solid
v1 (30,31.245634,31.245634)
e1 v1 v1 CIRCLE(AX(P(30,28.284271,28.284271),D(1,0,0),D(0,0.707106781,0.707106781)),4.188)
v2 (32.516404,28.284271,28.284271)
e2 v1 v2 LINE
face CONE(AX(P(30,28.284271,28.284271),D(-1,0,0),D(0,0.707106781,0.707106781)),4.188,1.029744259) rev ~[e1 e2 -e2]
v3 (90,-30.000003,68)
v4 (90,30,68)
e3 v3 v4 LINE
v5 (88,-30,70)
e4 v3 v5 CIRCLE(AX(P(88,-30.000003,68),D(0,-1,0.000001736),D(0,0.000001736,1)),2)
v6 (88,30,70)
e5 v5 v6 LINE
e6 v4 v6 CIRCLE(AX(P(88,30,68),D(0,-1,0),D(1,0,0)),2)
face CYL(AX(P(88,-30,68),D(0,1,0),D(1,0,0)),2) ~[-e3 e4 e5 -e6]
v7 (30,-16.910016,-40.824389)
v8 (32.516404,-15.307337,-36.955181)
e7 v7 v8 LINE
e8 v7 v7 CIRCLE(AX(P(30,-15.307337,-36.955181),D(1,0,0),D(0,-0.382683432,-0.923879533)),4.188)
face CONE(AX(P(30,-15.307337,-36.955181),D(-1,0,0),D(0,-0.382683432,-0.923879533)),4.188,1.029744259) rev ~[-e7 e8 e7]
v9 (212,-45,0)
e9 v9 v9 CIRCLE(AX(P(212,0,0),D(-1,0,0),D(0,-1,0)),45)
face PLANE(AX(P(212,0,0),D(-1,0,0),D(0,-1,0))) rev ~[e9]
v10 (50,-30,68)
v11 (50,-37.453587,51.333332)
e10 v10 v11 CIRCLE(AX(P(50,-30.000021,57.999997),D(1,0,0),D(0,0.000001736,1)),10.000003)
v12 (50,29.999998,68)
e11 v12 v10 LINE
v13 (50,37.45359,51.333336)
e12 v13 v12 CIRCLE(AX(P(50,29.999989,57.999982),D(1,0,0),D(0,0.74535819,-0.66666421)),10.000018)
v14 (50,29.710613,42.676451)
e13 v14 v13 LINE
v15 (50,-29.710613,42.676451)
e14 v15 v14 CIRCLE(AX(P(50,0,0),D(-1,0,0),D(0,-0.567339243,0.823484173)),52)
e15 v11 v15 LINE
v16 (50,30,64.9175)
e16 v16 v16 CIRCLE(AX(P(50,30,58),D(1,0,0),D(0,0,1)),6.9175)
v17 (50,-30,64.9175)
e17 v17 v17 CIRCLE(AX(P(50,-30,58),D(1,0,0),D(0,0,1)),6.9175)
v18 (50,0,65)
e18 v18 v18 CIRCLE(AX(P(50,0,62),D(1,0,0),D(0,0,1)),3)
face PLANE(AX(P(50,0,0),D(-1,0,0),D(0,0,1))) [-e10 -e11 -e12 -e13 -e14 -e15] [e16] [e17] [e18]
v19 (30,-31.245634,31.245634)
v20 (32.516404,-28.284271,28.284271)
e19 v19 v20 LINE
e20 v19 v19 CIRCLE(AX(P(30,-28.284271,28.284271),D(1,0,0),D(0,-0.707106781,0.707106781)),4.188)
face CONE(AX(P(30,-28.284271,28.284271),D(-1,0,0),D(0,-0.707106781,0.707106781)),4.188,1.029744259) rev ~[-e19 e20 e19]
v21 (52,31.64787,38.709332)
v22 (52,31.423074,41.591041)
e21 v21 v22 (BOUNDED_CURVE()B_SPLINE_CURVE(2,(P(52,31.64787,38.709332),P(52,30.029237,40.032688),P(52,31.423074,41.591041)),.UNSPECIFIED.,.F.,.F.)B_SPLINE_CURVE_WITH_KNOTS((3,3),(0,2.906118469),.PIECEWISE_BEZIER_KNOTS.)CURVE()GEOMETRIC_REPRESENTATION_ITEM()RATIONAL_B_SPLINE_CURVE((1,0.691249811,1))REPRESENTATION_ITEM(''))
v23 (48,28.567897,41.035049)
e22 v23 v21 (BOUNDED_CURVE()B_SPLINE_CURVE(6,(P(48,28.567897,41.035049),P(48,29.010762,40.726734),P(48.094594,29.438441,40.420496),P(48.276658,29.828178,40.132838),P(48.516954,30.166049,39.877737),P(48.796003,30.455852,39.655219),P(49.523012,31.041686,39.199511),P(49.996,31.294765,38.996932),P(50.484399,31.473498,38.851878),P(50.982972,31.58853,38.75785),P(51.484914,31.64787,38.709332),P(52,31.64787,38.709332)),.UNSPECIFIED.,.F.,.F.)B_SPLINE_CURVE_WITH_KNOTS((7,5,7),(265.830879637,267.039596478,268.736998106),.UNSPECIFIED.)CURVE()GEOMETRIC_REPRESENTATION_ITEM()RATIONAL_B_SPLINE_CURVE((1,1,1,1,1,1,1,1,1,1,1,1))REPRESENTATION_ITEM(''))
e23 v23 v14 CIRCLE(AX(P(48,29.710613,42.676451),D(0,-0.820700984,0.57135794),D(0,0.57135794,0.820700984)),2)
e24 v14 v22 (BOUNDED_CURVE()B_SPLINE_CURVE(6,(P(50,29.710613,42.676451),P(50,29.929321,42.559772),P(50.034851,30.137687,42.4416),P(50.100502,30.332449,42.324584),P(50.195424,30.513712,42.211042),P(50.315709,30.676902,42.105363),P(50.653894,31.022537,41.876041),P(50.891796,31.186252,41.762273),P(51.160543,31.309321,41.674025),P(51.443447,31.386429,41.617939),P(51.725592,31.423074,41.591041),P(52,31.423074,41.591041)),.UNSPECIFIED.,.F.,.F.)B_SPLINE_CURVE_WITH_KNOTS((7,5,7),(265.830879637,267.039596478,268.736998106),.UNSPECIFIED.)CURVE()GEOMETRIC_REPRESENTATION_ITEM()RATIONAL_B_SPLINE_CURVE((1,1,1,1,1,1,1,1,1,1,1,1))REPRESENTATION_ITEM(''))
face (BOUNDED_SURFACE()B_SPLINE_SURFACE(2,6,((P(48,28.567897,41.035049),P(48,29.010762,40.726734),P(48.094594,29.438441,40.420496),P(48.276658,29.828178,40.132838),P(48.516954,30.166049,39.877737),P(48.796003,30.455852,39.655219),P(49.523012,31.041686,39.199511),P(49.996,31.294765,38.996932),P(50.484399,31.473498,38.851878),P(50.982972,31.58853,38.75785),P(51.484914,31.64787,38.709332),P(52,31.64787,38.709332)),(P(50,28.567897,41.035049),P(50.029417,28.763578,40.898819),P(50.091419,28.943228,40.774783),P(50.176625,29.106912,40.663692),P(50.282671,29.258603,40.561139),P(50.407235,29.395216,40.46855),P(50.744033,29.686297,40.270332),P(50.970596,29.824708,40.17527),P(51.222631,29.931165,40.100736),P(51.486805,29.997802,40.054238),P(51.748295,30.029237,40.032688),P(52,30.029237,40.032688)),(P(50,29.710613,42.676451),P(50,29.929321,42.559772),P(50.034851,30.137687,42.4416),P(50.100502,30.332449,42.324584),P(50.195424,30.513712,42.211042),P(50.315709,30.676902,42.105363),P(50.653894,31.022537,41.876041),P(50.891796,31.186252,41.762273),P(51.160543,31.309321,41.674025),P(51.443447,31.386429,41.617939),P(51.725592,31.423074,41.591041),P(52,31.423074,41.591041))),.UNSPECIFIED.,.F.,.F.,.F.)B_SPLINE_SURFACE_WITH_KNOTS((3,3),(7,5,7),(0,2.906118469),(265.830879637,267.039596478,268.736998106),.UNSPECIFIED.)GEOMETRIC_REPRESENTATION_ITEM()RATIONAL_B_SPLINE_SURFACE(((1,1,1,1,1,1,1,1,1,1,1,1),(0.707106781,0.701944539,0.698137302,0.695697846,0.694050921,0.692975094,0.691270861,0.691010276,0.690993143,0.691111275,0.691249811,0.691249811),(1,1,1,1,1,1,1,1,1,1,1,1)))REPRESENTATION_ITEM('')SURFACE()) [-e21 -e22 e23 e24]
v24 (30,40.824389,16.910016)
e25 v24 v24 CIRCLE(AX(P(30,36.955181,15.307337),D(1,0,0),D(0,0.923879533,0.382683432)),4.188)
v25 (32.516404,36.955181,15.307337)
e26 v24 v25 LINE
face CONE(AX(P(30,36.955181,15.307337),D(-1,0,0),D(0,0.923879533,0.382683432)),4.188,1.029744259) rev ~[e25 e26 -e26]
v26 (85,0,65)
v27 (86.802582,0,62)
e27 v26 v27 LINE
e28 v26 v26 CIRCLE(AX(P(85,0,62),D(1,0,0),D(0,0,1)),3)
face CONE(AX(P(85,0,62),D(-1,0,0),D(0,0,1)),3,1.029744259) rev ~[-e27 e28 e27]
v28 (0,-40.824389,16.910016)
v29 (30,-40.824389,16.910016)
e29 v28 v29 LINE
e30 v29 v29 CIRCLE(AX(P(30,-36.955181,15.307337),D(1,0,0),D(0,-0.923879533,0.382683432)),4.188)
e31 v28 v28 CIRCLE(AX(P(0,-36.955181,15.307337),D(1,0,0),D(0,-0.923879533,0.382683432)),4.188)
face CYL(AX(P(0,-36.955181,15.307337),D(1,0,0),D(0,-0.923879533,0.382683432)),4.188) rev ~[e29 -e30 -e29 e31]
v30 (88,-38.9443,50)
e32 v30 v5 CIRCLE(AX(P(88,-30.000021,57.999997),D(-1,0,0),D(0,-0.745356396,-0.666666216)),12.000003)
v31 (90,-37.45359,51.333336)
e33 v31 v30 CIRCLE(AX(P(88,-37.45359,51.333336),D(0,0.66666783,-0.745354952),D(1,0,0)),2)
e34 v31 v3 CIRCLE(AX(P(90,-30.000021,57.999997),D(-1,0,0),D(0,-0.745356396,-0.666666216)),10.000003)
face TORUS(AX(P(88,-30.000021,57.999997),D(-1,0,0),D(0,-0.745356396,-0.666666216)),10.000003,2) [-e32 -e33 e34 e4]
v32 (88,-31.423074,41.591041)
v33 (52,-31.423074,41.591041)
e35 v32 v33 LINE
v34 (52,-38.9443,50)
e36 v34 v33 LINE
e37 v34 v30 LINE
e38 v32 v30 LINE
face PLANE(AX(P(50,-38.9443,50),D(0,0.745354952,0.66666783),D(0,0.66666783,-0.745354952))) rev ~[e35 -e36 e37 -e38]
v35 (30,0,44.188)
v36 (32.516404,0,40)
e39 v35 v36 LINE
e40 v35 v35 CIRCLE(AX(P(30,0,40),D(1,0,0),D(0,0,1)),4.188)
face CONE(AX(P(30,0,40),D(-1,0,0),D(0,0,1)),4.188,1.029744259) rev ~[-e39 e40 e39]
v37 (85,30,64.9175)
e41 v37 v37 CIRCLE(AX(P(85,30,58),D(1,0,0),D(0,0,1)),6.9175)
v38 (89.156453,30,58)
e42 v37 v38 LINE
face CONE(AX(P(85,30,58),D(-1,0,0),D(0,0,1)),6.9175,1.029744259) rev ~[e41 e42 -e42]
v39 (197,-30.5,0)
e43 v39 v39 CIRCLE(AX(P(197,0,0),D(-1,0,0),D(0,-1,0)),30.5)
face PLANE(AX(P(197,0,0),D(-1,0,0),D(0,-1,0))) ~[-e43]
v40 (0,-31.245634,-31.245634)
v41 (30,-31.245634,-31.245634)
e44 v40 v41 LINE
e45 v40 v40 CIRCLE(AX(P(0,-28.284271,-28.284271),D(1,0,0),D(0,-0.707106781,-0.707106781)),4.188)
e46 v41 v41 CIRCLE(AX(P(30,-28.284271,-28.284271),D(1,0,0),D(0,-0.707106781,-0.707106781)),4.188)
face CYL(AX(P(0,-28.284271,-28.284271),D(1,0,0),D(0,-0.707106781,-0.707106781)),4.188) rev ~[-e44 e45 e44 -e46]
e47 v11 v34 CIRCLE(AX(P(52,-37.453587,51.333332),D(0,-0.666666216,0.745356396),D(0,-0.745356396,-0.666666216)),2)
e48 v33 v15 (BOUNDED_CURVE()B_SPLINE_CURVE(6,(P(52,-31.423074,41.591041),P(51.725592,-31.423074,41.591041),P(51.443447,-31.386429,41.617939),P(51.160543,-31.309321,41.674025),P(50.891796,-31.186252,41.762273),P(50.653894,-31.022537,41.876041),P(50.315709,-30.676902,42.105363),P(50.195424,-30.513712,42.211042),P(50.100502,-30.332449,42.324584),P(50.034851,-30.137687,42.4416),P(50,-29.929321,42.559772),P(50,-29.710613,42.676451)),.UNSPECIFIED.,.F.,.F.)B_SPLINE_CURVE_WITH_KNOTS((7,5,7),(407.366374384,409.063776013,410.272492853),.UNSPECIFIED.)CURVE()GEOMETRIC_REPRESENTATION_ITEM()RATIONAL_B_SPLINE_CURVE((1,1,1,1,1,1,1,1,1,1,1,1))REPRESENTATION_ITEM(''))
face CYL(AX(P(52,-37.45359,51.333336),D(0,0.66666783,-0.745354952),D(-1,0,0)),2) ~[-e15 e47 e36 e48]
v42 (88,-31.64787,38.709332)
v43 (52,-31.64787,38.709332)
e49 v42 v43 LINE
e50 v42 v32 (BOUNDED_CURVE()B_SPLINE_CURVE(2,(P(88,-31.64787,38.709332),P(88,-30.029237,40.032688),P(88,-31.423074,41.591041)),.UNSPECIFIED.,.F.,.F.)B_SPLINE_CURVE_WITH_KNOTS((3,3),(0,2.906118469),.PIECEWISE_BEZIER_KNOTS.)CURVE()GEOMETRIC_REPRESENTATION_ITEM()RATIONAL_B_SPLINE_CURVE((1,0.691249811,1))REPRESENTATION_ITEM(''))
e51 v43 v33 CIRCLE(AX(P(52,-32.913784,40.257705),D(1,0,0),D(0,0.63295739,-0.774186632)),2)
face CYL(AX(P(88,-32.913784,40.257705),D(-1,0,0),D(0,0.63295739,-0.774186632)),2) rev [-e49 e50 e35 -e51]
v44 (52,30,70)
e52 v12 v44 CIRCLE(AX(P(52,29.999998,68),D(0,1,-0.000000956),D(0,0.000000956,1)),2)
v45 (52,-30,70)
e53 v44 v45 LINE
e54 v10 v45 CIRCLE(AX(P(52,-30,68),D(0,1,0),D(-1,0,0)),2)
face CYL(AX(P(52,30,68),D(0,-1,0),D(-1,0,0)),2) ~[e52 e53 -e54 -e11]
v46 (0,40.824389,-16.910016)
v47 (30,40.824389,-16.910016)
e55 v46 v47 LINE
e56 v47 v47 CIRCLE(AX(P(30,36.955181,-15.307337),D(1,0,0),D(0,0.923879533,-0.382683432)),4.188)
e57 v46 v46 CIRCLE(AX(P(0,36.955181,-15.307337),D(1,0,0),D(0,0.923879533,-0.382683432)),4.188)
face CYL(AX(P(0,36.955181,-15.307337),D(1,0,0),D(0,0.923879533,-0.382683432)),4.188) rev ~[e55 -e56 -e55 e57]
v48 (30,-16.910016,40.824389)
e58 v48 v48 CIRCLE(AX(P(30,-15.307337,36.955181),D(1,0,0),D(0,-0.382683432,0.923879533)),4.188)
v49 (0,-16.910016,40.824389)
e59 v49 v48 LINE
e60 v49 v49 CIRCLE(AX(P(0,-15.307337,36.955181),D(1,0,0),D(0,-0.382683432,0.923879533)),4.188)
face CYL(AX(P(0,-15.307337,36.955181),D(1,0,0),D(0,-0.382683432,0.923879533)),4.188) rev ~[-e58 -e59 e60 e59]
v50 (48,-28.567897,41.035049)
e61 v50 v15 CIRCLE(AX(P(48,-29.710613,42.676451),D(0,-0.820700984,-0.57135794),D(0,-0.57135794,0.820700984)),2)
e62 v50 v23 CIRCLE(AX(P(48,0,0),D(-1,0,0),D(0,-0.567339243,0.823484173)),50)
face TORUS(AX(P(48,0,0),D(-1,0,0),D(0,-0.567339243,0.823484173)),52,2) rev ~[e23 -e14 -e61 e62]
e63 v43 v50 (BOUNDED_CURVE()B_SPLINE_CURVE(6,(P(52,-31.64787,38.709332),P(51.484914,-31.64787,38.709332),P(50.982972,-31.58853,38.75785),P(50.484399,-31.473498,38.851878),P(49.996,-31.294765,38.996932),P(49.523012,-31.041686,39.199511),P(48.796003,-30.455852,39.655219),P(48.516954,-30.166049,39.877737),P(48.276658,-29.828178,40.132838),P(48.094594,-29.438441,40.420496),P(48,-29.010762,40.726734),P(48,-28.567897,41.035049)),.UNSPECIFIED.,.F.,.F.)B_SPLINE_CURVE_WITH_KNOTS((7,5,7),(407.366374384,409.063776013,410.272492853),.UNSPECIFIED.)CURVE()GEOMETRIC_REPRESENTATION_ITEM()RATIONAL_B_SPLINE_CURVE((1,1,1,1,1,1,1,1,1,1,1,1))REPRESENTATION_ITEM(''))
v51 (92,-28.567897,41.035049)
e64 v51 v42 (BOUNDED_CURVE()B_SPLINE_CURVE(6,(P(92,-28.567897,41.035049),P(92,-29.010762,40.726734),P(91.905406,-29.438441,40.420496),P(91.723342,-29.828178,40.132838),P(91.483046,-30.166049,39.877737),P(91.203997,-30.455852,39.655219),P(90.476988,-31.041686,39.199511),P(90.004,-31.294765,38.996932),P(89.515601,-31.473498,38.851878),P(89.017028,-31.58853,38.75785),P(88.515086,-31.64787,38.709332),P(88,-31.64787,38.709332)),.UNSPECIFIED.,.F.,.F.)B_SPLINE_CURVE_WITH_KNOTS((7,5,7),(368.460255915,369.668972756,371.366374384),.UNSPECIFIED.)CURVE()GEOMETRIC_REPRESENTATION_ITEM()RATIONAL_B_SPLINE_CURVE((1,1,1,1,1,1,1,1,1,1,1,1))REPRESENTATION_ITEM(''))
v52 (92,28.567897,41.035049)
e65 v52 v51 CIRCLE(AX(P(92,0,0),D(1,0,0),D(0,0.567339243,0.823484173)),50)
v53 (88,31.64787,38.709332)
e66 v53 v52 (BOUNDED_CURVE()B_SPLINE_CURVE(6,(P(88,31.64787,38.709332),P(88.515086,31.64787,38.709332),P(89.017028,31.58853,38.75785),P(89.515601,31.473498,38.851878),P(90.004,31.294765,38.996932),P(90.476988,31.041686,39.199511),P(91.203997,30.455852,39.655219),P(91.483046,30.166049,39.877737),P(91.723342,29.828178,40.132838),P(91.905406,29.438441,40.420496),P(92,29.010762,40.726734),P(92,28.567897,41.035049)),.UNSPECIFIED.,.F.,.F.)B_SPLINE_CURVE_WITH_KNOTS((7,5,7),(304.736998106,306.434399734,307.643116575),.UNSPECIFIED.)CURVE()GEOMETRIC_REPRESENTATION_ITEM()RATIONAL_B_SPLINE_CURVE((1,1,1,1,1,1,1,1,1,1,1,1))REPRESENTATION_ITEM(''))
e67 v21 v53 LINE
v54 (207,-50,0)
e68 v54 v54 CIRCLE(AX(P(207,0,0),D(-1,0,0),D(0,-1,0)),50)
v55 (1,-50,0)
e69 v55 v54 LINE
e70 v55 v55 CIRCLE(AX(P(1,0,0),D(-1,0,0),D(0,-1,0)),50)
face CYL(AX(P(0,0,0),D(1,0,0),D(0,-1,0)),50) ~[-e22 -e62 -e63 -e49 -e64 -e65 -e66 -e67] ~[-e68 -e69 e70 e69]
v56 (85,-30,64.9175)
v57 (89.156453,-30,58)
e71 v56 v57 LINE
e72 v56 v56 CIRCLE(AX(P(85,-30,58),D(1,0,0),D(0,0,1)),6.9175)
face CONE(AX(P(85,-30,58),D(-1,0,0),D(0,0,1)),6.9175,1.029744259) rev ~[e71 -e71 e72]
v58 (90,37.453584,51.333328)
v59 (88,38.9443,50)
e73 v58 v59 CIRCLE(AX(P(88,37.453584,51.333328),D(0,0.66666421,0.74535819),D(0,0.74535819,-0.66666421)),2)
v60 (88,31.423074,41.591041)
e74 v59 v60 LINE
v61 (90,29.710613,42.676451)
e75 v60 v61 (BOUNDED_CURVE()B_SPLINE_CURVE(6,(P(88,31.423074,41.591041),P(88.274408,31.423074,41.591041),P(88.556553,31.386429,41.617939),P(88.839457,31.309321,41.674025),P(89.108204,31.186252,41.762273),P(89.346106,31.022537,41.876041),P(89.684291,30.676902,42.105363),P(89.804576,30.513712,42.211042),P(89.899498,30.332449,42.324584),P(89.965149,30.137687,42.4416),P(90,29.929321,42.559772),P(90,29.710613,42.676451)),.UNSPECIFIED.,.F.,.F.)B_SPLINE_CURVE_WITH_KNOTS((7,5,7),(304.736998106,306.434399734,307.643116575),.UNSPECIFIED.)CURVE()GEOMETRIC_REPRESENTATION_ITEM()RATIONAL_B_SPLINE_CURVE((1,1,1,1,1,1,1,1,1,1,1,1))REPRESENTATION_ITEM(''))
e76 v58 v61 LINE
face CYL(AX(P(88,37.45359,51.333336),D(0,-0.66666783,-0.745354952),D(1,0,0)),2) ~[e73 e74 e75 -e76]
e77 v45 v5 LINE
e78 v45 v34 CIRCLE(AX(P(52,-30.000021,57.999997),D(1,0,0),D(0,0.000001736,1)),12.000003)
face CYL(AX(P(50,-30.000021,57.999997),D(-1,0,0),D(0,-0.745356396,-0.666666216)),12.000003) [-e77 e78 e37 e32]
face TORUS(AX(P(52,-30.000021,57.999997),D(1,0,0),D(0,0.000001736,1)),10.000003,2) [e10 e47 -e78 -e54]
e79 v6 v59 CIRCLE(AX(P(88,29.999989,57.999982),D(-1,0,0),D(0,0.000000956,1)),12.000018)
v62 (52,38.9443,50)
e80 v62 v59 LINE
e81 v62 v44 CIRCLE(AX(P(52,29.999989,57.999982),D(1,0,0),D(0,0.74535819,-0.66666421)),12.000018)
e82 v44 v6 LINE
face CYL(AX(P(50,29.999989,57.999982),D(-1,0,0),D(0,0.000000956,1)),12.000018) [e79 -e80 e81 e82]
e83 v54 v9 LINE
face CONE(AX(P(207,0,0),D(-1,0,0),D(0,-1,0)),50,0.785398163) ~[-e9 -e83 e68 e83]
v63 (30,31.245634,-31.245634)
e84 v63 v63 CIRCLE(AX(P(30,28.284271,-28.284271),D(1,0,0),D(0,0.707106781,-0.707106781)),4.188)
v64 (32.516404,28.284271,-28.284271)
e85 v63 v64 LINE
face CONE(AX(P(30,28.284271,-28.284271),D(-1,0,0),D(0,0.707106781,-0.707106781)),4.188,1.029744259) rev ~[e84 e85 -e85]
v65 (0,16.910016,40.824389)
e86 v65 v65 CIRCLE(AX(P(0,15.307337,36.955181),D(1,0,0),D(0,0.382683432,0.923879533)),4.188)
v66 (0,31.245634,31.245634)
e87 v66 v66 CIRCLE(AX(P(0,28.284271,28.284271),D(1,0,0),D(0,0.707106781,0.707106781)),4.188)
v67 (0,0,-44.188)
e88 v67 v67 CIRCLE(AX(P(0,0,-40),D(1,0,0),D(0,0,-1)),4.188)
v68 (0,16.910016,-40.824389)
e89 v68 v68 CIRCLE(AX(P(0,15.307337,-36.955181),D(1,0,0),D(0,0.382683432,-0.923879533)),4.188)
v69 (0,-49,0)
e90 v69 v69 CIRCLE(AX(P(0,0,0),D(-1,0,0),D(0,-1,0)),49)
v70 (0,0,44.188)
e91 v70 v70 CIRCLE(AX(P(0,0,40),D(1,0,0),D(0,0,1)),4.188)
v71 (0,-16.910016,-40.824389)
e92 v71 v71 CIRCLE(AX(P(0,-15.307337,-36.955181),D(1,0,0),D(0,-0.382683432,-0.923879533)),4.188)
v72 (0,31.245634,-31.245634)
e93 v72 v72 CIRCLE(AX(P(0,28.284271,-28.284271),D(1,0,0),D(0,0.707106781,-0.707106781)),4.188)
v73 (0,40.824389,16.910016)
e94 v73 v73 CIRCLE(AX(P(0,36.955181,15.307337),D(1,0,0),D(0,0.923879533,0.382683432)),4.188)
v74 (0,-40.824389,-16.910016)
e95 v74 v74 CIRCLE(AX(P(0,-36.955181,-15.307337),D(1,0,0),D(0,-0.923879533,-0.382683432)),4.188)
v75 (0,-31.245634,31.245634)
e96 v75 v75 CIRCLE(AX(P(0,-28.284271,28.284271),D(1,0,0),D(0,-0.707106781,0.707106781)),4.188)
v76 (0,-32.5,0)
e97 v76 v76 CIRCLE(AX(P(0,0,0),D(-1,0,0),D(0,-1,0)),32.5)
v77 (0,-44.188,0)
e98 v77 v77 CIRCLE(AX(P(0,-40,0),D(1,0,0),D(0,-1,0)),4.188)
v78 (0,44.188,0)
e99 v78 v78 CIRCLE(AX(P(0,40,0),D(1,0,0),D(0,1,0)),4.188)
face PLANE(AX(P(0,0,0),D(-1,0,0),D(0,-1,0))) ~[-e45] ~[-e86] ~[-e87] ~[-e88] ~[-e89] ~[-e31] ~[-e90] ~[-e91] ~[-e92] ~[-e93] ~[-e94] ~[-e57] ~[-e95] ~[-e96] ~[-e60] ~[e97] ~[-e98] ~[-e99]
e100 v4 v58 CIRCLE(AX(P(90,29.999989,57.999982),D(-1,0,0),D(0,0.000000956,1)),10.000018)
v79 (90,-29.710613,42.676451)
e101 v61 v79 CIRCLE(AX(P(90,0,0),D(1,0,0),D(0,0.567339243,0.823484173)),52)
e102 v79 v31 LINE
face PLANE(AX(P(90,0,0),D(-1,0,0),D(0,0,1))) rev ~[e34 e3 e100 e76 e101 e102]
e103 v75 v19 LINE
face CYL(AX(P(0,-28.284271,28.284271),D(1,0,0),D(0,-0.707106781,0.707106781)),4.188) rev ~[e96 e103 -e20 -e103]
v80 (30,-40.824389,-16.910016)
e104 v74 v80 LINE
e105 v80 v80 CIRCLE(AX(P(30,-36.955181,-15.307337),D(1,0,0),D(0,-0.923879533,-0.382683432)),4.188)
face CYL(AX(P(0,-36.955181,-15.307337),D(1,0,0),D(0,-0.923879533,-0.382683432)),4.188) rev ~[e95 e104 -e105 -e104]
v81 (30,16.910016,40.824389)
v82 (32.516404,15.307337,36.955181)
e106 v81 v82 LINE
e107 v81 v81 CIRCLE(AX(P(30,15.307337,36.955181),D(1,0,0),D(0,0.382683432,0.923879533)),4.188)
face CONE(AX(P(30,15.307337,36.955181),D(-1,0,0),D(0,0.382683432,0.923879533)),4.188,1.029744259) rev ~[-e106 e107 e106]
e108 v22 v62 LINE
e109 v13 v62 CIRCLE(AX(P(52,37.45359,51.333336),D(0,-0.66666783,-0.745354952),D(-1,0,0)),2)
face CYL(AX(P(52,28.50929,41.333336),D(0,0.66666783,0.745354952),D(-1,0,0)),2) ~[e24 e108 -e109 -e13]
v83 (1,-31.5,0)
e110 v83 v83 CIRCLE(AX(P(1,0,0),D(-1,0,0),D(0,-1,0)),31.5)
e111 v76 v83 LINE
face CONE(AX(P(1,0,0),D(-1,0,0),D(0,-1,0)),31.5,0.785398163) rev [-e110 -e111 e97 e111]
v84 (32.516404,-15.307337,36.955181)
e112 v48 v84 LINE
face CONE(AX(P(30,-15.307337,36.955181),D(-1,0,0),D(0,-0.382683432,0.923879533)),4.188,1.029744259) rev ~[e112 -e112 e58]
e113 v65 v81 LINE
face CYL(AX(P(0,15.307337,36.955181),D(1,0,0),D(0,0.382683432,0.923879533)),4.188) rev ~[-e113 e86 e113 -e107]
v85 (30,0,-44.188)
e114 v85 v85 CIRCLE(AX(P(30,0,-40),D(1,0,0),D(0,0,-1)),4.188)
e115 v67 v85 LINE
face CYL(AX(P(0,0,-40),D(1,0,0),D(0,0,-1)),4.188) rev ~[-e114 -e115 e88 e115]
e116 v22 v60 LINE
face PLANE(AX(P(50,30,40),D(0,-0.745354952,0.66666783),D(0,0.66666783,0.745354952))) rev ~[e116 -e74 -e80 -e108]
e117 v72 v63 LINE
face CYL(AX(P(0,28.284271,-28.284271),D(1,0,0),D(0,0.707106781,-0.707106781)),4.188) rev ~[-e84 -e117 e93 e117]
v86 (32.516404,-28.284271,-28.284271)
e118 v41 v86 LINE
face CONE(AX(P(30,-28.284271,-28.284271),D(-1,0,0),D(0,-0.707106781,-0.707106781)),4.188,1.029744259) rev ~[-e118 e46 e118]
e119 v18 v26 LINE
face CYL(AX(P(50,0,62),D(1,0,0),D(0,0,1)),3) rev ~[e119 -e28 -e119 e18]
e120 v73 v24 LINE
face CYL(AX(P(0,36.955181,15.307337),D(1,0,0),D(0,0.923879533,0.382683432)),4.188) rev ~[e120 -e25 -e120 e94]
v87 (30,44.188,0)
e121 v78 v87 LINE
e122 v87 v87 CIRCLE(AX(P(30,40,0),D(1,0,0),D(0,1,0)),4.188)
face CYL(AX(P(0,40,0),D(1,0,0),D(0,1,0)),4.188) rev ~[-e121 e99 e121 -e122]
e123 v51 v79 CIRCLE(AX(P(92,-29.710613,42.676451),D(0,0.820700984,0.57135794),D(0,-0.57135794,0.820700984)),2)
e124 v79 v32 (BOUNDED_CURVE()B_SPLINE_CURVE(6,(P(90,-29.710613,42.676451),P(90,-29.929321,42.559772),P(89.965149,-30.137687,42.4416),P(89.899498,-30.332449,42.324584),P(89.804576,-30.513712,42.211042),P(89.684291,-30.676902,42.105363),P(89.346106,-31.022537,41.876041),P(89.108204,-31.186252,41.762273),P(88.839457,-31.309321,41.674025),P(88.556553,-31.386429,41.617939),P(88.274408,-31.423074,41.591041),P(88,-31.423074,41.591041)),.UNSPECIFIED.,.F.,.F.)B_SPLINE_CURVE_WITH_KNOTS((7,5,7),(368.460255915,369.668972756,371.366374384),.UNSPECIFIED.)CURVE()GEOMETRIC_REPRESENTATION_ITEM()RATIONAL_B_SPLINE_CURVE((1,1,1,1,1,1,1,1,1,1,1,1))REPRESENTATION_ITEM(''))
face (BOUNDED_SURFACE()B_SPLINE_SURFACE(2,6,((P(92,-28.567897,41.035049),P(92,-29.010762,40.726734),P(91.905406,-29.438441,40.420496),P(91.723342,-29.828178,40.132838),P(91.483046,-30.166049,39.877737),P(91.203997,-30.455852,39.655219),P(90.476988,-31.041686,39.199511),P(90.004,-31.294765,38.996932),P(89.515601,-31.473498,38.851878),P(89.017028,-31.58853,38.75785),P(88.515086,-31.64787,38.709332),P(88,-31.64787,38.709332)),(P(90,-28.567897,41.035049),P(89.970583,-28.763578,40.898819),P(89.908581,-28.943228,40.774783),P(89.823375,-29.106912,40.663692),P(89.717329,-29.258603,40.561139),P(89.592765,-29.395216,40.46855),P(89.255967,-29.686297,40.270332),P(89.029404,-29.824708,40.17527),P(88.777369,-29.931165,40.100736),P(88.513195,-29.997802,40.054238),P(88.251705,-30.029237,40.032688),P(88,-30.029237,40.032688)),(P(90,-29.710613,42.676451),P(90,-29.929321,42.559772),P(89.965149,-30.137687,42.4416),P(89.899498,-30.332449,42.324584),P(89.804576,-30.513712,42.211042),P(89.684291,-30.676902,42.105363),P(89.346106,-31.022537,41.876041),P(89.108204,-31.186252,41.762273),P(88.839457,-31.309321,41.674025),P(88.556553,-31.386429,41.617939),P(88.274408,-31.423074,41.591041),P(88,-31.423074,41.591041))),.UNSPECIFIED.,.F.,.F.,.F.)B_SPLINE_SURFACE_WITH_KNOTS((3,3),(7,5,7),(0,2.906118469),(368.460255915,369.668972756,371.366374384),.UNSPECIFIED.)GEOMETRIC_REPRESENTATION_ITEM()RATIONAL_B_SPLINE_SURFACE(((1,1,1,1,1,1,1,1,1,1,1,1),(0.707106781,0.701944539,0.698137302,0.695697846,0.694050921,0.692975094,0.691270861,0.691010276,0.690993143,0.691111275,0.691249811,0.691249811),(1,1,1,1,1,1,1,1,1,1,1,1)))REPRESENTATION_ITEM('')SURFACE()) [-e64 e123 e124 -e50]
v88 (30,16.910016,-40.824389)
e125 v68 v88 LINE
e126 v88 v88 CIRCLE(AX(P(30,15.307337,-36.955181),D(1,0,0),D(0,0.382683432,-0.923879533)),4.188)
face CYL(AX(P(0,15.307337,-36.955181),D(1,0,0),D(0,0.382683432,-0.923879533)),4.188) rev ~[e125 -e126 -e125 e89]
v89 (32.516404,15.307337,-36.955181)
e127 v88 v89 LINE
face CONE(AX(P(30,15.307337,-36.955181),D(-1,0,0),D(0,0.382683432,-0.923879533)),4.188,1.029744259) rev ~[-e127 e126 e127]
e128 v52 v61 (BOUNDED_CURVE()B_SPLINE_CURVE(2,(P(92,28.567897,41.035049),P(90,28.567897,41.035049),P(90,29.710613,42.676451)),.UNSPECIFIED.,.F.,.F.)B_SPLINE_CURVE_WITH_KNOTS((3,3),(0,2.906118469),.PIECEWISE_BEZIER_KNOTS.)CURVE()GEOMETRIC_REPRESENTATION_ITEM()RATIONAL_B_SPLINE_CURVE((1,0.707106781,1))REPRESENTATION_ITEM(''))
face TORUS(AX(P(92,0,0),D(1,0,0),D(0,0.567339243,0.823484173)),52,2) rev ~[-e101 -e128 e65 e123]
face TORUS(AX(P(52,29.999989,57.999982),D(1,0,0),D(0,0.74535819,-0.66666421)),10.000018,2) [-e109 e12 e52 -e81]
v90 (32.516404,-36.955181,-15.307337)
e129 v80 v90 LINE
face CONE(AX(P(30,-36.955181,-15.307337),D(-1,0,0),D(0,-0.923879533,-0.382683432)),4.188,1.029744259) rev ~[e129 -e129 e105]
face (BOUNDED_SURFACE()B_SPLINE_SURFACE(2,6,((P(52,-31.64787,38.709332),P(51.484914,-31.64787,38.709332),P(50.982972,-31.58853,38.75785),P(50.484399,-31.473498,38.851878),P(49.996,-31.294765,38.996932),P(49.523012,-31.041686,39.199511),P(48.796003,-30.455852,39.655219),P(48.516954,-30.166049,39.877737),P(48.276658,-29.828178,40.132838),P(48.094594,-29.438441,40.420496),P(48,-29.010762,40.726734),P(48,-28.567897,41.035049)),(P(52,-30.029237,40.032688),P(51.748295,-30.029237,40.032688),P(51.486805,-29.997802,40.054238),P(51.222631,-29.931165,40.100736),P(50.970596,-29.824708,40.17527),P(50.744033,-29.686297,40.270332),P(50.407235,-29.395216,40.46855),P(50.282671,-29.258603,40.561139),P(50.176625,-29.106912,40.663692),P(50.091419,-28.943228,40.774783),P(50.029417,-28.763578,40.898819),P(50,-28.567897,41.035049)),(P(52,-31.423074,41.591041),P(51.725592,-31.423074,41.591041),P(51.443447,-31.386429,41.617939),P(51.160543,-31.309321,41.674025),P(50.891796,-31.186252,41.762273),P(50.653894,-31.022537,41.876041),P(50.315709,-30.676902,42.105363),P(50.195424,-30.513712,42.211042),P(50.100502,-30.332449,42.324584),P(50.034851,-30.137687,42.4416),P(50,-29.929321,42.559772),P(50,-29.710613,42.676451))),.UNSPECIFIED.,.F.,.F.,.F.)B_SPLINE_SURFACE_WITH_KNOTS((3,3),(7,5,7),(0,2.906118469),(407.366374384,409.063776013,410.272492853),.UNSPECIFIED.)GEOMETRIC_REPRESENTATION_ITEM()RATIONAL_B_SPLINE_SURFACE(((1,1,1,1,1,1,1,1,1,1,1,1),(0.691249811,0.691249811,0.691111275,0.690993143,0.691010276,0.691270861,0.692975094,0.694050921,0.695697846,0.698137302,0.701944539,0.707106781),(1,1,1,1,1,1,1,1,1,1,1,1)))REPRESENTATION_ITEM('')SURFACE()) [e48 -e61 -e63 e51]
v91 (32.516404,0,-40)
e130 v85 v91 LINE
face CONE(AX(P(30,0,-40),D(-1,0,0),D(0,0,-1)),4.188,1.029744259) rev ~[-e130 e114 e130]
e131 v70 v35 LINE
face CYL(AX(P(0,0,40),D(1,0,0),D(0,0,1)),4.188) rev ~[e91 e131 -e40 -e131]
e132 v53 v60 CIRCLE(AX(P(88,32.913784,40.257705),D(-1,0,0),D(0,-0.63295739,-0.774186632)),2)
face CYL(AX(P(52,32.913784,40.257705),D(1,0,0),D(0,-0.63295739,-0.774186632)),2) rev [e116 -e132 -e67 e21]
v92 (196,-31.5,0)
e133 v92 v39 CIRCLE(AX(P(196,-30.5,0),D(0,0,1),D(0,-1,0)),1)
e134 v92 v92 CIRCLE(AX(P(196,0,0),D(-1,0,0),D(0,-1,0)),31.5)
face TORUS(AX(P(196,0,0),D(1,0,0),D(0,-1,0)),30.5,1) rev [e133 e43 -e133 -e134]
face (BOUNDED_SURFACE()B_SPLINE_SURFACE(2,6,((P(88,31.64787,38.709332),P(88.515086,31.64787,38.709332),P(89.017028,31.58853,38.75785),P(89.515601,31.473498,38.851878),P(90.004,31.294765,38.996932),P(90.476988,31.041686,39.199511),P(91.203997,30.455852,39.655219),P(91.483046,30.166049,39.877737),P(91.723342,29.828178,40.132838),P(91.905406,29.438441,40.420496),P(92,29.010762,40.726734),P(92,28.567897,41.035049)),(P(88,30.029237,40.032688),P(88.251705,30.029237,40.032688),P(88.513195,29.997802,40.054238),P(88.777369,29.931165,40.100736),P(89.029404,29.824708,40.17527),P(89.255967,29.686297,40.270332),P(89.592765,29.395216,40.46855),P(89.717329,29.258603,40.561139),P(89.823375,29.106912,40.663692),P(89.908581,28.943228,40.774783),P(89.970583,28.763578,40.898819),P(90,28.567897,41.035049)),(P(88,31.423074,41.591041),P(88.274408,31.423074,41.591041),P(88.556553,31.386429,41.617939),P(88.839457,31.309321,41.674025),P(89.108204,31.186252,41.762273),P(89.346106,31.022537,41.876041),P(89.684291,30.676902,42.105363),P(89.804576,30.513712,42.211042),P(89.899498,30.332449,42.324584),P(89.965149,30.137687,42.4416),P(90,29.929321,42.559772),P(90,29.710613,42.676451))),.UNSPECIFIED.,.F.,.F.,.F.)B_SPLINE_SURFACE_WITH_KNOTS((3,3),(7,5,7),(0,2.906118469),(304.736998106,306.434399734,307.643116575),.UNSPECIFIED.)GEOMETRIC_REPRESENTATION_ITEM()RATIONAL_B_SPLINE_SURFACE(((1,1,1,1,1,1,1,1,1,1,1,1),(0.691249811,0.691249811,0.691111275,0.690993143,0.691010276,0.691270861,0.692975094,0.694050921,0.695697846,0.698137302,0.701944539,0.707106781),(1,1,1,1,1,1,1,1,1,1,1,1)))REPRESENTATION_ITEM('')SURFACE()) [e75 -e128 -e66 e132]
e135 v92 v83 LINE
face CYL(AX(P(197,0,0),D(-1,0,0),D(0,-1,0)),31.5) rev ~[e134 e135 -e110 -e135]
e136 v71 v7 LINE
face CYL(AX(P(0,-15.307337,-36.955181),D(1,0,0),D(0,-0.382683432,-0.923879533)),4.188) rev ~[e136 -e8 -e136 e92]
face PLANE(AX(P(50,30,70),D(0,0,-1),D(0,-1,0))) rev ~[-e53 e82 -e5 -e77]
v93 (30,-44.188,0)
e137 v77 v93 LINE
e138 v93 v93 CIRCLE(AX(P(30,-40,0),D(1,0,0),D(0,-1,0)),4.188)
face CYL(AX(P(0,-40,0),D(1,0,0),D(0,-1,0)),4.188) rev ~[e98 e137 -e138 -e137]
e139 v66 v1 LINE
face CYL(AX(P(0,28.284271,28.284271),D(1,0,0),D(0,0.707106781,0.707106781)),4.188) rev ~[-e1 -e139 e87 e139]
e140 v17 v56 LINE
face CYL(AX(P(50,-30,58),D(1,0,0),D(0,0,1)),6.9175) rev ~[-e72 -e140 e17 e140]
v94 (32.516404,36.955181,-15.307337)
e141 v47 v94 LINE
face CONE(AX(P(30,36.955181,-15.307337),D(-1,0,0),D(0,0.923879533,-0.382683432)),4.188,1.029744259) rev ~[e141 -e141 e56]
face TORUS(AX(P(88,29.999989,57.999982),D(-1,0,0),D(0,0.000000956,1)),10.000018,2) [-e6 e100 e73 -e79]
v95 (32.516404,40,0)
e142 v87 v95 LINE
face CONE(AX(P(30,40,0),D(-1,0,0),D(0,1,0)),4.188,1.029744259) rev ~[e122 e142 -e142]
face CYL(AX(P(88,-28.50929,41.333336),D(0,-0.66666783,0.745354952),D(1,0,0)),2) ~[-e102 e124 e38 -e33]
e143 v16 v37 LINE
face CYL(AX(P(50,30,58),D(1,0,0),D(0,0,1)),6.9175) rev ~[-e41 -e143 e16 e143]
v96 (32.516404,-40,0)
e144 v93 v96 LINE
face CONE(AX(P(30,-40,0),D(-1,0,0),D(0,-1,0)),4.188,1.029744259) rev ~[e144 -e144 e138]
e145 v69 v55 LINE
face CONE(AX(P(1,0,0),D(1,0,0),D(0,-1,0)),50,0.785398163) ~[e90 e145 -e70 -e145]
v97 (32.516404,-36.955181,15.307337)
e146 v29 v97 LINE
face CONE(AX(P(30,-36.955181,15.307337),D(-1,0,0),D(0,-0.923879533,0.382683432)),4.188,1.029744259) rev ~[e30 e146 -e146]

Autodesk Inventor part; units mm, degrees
ref_plane "YZ Plane" through (0, 0, 0) normal (1, 0, 0) x (0, 1, 0)
ref_plane "XZ Plane" through (0, 0, 0) normal (0, 1, 0) x (-1, 0, 0)
sketch "Sketch1" plane through (0, 0, 0) normal (0, 0, 1) x (1, 0, 0)
  line L0 (0, -50) -> (212, -50)
  line L1 (212, -50) -> (212, 0)
  line L2 (212, 0) -> (197, 0)
  line L3 (197, 0) -> (197, -31.5)
  line L4 (197, -31.5) -> (0, -31.5)
  line L5 (0, -31.5) -> (0, -50)
  point P0 (0, 0)
  dimension "d0" = 50
  dimension "d1" = 212
  dimension "d2" = 15
  dimension "d44" = 31.5
revolve "Revolution1" add sketch "Sketch1" angle 360 about axis through (212, 0, 0) along (-1, 0, 0)
sketch "Sketch2" plane through (0, 0, 0) normal (-1, 0, 0) x (0, 0, 1)
  circle A0 centre (0, 0) radius 31.5 projected
  point P0 (40, 0)
  dimension "d5" = 40
hole "Hole1" at (0, 0, 40) direction (1, 0, 0) diameter 8.376 depth 30 tip angle 118 thread size "M10x1.5" class "6H" standard "ISO Metric profile"
pattern_circular "Circular Pattern1" count 16 over 360 about axis through (98.5, 0, 0) along (-1, 0, 0) of "Hole1"
chamfer "Chamfer1" distance 1 angle 45 2 edges at (0, 50, 0) (0, 31.5, 0)
chamfer "Chamfer2" distance 5 angle 45 1 edges at (212, 50, 0)
ref_plane "Work Plane1" through (50, 0, 0) normal (-1, 0, 0) x (0, 0, 1)
sketch "Sketch3" plane through (50, 0, 0) normal (-1, 0, 0) x (0, 0, 1)
  circle A0 centre (0, 0) radius 50 projected
  line L0 (0, 0) -> (50, 0) construction
  line L1 (40, 30) -> (40, -30) construction
  line L2 (40, 30) -> (50, 38.9443)
  arc A1 (70, 30) -> (50, 38.9443) centre (58, 30) ccw
  line L3 (70, 30) -> (70, -30)
  arc A2 (50, -38.9443) -> (70, -30) centre (58, -30) ccw
  line L4 (50, -38.9443) -> (40, -30)
  dimension "d21" = 60
  dimension "d22" = 12
  dimension "d23" = 30
extrude "Extrusion1" add sketch "Sketch3" against normal blind 40 contours A0 L2 A1 L3 A2 L4
sketch "Sketch4" plane through (50, 0, 0) normal (-1, 0, 0) x (0, 0, 1)
  arc A0 (50, -38.9443) -> (70, -30) centre (58, -30) ccw projected
  arc A1 (70, 30) -> (50, 38.9443) centre (58, 30) ccw projected
hole "Hole2" at (50, -30, 58) at (50, 30, 58) direction (1, 0, 0) diameter 13.835 depth 35 tip angle 118 thread size "M16x2" class "6H" standard "ISO Metric profile"
sketch "Sketch5" plane through (50, 0, 0) normal (-1, 0, 0) x (0, 0, 1)
  line L0 (70, -30) -> (70, 30) projected
  circle A0 centre (58, -30) radius 6.9175 projected
  point P0 (62, 0)
  point P1 (70, 0)
  dimension "d46" = 4
hole "Hole3" at (50, 0, 62) direction (1, 0, 0) diameter 6 depth 35 tip angle 118
fillet "Fillet1" radius 2 10 edges at (50, 0, 70) (50, 40.9545, 62.899) (50, 34.4721, 45) (50, -40.9545, 62.899) (50, -34.4721, 45) (90, -40.9545, 62.899) (90, 0, 70) (90, 40.9545, 62.899) (90, 34.4721, 45) (90, -34.4721, 45)
fillet "Fillet2" radius 2 8 edges at (50, 0, 50) (50.6885, 29.6049, 40.2933) (70, 30, 40) (89.3115, 29.6049, 40.2933) (90, 0, 50) (89.3115, -29.6049, 40.2933) (70, -30, 40) (50.6885, -29.6049, 40.2933)
fillet "Fillet3" radius 1 1 edges at (197, 31.5, 0)
equation "\"d5\" = d0 - 0.5 * d3"
equation "\"d3\" = 20"
properties part number "Piston_Housing"
